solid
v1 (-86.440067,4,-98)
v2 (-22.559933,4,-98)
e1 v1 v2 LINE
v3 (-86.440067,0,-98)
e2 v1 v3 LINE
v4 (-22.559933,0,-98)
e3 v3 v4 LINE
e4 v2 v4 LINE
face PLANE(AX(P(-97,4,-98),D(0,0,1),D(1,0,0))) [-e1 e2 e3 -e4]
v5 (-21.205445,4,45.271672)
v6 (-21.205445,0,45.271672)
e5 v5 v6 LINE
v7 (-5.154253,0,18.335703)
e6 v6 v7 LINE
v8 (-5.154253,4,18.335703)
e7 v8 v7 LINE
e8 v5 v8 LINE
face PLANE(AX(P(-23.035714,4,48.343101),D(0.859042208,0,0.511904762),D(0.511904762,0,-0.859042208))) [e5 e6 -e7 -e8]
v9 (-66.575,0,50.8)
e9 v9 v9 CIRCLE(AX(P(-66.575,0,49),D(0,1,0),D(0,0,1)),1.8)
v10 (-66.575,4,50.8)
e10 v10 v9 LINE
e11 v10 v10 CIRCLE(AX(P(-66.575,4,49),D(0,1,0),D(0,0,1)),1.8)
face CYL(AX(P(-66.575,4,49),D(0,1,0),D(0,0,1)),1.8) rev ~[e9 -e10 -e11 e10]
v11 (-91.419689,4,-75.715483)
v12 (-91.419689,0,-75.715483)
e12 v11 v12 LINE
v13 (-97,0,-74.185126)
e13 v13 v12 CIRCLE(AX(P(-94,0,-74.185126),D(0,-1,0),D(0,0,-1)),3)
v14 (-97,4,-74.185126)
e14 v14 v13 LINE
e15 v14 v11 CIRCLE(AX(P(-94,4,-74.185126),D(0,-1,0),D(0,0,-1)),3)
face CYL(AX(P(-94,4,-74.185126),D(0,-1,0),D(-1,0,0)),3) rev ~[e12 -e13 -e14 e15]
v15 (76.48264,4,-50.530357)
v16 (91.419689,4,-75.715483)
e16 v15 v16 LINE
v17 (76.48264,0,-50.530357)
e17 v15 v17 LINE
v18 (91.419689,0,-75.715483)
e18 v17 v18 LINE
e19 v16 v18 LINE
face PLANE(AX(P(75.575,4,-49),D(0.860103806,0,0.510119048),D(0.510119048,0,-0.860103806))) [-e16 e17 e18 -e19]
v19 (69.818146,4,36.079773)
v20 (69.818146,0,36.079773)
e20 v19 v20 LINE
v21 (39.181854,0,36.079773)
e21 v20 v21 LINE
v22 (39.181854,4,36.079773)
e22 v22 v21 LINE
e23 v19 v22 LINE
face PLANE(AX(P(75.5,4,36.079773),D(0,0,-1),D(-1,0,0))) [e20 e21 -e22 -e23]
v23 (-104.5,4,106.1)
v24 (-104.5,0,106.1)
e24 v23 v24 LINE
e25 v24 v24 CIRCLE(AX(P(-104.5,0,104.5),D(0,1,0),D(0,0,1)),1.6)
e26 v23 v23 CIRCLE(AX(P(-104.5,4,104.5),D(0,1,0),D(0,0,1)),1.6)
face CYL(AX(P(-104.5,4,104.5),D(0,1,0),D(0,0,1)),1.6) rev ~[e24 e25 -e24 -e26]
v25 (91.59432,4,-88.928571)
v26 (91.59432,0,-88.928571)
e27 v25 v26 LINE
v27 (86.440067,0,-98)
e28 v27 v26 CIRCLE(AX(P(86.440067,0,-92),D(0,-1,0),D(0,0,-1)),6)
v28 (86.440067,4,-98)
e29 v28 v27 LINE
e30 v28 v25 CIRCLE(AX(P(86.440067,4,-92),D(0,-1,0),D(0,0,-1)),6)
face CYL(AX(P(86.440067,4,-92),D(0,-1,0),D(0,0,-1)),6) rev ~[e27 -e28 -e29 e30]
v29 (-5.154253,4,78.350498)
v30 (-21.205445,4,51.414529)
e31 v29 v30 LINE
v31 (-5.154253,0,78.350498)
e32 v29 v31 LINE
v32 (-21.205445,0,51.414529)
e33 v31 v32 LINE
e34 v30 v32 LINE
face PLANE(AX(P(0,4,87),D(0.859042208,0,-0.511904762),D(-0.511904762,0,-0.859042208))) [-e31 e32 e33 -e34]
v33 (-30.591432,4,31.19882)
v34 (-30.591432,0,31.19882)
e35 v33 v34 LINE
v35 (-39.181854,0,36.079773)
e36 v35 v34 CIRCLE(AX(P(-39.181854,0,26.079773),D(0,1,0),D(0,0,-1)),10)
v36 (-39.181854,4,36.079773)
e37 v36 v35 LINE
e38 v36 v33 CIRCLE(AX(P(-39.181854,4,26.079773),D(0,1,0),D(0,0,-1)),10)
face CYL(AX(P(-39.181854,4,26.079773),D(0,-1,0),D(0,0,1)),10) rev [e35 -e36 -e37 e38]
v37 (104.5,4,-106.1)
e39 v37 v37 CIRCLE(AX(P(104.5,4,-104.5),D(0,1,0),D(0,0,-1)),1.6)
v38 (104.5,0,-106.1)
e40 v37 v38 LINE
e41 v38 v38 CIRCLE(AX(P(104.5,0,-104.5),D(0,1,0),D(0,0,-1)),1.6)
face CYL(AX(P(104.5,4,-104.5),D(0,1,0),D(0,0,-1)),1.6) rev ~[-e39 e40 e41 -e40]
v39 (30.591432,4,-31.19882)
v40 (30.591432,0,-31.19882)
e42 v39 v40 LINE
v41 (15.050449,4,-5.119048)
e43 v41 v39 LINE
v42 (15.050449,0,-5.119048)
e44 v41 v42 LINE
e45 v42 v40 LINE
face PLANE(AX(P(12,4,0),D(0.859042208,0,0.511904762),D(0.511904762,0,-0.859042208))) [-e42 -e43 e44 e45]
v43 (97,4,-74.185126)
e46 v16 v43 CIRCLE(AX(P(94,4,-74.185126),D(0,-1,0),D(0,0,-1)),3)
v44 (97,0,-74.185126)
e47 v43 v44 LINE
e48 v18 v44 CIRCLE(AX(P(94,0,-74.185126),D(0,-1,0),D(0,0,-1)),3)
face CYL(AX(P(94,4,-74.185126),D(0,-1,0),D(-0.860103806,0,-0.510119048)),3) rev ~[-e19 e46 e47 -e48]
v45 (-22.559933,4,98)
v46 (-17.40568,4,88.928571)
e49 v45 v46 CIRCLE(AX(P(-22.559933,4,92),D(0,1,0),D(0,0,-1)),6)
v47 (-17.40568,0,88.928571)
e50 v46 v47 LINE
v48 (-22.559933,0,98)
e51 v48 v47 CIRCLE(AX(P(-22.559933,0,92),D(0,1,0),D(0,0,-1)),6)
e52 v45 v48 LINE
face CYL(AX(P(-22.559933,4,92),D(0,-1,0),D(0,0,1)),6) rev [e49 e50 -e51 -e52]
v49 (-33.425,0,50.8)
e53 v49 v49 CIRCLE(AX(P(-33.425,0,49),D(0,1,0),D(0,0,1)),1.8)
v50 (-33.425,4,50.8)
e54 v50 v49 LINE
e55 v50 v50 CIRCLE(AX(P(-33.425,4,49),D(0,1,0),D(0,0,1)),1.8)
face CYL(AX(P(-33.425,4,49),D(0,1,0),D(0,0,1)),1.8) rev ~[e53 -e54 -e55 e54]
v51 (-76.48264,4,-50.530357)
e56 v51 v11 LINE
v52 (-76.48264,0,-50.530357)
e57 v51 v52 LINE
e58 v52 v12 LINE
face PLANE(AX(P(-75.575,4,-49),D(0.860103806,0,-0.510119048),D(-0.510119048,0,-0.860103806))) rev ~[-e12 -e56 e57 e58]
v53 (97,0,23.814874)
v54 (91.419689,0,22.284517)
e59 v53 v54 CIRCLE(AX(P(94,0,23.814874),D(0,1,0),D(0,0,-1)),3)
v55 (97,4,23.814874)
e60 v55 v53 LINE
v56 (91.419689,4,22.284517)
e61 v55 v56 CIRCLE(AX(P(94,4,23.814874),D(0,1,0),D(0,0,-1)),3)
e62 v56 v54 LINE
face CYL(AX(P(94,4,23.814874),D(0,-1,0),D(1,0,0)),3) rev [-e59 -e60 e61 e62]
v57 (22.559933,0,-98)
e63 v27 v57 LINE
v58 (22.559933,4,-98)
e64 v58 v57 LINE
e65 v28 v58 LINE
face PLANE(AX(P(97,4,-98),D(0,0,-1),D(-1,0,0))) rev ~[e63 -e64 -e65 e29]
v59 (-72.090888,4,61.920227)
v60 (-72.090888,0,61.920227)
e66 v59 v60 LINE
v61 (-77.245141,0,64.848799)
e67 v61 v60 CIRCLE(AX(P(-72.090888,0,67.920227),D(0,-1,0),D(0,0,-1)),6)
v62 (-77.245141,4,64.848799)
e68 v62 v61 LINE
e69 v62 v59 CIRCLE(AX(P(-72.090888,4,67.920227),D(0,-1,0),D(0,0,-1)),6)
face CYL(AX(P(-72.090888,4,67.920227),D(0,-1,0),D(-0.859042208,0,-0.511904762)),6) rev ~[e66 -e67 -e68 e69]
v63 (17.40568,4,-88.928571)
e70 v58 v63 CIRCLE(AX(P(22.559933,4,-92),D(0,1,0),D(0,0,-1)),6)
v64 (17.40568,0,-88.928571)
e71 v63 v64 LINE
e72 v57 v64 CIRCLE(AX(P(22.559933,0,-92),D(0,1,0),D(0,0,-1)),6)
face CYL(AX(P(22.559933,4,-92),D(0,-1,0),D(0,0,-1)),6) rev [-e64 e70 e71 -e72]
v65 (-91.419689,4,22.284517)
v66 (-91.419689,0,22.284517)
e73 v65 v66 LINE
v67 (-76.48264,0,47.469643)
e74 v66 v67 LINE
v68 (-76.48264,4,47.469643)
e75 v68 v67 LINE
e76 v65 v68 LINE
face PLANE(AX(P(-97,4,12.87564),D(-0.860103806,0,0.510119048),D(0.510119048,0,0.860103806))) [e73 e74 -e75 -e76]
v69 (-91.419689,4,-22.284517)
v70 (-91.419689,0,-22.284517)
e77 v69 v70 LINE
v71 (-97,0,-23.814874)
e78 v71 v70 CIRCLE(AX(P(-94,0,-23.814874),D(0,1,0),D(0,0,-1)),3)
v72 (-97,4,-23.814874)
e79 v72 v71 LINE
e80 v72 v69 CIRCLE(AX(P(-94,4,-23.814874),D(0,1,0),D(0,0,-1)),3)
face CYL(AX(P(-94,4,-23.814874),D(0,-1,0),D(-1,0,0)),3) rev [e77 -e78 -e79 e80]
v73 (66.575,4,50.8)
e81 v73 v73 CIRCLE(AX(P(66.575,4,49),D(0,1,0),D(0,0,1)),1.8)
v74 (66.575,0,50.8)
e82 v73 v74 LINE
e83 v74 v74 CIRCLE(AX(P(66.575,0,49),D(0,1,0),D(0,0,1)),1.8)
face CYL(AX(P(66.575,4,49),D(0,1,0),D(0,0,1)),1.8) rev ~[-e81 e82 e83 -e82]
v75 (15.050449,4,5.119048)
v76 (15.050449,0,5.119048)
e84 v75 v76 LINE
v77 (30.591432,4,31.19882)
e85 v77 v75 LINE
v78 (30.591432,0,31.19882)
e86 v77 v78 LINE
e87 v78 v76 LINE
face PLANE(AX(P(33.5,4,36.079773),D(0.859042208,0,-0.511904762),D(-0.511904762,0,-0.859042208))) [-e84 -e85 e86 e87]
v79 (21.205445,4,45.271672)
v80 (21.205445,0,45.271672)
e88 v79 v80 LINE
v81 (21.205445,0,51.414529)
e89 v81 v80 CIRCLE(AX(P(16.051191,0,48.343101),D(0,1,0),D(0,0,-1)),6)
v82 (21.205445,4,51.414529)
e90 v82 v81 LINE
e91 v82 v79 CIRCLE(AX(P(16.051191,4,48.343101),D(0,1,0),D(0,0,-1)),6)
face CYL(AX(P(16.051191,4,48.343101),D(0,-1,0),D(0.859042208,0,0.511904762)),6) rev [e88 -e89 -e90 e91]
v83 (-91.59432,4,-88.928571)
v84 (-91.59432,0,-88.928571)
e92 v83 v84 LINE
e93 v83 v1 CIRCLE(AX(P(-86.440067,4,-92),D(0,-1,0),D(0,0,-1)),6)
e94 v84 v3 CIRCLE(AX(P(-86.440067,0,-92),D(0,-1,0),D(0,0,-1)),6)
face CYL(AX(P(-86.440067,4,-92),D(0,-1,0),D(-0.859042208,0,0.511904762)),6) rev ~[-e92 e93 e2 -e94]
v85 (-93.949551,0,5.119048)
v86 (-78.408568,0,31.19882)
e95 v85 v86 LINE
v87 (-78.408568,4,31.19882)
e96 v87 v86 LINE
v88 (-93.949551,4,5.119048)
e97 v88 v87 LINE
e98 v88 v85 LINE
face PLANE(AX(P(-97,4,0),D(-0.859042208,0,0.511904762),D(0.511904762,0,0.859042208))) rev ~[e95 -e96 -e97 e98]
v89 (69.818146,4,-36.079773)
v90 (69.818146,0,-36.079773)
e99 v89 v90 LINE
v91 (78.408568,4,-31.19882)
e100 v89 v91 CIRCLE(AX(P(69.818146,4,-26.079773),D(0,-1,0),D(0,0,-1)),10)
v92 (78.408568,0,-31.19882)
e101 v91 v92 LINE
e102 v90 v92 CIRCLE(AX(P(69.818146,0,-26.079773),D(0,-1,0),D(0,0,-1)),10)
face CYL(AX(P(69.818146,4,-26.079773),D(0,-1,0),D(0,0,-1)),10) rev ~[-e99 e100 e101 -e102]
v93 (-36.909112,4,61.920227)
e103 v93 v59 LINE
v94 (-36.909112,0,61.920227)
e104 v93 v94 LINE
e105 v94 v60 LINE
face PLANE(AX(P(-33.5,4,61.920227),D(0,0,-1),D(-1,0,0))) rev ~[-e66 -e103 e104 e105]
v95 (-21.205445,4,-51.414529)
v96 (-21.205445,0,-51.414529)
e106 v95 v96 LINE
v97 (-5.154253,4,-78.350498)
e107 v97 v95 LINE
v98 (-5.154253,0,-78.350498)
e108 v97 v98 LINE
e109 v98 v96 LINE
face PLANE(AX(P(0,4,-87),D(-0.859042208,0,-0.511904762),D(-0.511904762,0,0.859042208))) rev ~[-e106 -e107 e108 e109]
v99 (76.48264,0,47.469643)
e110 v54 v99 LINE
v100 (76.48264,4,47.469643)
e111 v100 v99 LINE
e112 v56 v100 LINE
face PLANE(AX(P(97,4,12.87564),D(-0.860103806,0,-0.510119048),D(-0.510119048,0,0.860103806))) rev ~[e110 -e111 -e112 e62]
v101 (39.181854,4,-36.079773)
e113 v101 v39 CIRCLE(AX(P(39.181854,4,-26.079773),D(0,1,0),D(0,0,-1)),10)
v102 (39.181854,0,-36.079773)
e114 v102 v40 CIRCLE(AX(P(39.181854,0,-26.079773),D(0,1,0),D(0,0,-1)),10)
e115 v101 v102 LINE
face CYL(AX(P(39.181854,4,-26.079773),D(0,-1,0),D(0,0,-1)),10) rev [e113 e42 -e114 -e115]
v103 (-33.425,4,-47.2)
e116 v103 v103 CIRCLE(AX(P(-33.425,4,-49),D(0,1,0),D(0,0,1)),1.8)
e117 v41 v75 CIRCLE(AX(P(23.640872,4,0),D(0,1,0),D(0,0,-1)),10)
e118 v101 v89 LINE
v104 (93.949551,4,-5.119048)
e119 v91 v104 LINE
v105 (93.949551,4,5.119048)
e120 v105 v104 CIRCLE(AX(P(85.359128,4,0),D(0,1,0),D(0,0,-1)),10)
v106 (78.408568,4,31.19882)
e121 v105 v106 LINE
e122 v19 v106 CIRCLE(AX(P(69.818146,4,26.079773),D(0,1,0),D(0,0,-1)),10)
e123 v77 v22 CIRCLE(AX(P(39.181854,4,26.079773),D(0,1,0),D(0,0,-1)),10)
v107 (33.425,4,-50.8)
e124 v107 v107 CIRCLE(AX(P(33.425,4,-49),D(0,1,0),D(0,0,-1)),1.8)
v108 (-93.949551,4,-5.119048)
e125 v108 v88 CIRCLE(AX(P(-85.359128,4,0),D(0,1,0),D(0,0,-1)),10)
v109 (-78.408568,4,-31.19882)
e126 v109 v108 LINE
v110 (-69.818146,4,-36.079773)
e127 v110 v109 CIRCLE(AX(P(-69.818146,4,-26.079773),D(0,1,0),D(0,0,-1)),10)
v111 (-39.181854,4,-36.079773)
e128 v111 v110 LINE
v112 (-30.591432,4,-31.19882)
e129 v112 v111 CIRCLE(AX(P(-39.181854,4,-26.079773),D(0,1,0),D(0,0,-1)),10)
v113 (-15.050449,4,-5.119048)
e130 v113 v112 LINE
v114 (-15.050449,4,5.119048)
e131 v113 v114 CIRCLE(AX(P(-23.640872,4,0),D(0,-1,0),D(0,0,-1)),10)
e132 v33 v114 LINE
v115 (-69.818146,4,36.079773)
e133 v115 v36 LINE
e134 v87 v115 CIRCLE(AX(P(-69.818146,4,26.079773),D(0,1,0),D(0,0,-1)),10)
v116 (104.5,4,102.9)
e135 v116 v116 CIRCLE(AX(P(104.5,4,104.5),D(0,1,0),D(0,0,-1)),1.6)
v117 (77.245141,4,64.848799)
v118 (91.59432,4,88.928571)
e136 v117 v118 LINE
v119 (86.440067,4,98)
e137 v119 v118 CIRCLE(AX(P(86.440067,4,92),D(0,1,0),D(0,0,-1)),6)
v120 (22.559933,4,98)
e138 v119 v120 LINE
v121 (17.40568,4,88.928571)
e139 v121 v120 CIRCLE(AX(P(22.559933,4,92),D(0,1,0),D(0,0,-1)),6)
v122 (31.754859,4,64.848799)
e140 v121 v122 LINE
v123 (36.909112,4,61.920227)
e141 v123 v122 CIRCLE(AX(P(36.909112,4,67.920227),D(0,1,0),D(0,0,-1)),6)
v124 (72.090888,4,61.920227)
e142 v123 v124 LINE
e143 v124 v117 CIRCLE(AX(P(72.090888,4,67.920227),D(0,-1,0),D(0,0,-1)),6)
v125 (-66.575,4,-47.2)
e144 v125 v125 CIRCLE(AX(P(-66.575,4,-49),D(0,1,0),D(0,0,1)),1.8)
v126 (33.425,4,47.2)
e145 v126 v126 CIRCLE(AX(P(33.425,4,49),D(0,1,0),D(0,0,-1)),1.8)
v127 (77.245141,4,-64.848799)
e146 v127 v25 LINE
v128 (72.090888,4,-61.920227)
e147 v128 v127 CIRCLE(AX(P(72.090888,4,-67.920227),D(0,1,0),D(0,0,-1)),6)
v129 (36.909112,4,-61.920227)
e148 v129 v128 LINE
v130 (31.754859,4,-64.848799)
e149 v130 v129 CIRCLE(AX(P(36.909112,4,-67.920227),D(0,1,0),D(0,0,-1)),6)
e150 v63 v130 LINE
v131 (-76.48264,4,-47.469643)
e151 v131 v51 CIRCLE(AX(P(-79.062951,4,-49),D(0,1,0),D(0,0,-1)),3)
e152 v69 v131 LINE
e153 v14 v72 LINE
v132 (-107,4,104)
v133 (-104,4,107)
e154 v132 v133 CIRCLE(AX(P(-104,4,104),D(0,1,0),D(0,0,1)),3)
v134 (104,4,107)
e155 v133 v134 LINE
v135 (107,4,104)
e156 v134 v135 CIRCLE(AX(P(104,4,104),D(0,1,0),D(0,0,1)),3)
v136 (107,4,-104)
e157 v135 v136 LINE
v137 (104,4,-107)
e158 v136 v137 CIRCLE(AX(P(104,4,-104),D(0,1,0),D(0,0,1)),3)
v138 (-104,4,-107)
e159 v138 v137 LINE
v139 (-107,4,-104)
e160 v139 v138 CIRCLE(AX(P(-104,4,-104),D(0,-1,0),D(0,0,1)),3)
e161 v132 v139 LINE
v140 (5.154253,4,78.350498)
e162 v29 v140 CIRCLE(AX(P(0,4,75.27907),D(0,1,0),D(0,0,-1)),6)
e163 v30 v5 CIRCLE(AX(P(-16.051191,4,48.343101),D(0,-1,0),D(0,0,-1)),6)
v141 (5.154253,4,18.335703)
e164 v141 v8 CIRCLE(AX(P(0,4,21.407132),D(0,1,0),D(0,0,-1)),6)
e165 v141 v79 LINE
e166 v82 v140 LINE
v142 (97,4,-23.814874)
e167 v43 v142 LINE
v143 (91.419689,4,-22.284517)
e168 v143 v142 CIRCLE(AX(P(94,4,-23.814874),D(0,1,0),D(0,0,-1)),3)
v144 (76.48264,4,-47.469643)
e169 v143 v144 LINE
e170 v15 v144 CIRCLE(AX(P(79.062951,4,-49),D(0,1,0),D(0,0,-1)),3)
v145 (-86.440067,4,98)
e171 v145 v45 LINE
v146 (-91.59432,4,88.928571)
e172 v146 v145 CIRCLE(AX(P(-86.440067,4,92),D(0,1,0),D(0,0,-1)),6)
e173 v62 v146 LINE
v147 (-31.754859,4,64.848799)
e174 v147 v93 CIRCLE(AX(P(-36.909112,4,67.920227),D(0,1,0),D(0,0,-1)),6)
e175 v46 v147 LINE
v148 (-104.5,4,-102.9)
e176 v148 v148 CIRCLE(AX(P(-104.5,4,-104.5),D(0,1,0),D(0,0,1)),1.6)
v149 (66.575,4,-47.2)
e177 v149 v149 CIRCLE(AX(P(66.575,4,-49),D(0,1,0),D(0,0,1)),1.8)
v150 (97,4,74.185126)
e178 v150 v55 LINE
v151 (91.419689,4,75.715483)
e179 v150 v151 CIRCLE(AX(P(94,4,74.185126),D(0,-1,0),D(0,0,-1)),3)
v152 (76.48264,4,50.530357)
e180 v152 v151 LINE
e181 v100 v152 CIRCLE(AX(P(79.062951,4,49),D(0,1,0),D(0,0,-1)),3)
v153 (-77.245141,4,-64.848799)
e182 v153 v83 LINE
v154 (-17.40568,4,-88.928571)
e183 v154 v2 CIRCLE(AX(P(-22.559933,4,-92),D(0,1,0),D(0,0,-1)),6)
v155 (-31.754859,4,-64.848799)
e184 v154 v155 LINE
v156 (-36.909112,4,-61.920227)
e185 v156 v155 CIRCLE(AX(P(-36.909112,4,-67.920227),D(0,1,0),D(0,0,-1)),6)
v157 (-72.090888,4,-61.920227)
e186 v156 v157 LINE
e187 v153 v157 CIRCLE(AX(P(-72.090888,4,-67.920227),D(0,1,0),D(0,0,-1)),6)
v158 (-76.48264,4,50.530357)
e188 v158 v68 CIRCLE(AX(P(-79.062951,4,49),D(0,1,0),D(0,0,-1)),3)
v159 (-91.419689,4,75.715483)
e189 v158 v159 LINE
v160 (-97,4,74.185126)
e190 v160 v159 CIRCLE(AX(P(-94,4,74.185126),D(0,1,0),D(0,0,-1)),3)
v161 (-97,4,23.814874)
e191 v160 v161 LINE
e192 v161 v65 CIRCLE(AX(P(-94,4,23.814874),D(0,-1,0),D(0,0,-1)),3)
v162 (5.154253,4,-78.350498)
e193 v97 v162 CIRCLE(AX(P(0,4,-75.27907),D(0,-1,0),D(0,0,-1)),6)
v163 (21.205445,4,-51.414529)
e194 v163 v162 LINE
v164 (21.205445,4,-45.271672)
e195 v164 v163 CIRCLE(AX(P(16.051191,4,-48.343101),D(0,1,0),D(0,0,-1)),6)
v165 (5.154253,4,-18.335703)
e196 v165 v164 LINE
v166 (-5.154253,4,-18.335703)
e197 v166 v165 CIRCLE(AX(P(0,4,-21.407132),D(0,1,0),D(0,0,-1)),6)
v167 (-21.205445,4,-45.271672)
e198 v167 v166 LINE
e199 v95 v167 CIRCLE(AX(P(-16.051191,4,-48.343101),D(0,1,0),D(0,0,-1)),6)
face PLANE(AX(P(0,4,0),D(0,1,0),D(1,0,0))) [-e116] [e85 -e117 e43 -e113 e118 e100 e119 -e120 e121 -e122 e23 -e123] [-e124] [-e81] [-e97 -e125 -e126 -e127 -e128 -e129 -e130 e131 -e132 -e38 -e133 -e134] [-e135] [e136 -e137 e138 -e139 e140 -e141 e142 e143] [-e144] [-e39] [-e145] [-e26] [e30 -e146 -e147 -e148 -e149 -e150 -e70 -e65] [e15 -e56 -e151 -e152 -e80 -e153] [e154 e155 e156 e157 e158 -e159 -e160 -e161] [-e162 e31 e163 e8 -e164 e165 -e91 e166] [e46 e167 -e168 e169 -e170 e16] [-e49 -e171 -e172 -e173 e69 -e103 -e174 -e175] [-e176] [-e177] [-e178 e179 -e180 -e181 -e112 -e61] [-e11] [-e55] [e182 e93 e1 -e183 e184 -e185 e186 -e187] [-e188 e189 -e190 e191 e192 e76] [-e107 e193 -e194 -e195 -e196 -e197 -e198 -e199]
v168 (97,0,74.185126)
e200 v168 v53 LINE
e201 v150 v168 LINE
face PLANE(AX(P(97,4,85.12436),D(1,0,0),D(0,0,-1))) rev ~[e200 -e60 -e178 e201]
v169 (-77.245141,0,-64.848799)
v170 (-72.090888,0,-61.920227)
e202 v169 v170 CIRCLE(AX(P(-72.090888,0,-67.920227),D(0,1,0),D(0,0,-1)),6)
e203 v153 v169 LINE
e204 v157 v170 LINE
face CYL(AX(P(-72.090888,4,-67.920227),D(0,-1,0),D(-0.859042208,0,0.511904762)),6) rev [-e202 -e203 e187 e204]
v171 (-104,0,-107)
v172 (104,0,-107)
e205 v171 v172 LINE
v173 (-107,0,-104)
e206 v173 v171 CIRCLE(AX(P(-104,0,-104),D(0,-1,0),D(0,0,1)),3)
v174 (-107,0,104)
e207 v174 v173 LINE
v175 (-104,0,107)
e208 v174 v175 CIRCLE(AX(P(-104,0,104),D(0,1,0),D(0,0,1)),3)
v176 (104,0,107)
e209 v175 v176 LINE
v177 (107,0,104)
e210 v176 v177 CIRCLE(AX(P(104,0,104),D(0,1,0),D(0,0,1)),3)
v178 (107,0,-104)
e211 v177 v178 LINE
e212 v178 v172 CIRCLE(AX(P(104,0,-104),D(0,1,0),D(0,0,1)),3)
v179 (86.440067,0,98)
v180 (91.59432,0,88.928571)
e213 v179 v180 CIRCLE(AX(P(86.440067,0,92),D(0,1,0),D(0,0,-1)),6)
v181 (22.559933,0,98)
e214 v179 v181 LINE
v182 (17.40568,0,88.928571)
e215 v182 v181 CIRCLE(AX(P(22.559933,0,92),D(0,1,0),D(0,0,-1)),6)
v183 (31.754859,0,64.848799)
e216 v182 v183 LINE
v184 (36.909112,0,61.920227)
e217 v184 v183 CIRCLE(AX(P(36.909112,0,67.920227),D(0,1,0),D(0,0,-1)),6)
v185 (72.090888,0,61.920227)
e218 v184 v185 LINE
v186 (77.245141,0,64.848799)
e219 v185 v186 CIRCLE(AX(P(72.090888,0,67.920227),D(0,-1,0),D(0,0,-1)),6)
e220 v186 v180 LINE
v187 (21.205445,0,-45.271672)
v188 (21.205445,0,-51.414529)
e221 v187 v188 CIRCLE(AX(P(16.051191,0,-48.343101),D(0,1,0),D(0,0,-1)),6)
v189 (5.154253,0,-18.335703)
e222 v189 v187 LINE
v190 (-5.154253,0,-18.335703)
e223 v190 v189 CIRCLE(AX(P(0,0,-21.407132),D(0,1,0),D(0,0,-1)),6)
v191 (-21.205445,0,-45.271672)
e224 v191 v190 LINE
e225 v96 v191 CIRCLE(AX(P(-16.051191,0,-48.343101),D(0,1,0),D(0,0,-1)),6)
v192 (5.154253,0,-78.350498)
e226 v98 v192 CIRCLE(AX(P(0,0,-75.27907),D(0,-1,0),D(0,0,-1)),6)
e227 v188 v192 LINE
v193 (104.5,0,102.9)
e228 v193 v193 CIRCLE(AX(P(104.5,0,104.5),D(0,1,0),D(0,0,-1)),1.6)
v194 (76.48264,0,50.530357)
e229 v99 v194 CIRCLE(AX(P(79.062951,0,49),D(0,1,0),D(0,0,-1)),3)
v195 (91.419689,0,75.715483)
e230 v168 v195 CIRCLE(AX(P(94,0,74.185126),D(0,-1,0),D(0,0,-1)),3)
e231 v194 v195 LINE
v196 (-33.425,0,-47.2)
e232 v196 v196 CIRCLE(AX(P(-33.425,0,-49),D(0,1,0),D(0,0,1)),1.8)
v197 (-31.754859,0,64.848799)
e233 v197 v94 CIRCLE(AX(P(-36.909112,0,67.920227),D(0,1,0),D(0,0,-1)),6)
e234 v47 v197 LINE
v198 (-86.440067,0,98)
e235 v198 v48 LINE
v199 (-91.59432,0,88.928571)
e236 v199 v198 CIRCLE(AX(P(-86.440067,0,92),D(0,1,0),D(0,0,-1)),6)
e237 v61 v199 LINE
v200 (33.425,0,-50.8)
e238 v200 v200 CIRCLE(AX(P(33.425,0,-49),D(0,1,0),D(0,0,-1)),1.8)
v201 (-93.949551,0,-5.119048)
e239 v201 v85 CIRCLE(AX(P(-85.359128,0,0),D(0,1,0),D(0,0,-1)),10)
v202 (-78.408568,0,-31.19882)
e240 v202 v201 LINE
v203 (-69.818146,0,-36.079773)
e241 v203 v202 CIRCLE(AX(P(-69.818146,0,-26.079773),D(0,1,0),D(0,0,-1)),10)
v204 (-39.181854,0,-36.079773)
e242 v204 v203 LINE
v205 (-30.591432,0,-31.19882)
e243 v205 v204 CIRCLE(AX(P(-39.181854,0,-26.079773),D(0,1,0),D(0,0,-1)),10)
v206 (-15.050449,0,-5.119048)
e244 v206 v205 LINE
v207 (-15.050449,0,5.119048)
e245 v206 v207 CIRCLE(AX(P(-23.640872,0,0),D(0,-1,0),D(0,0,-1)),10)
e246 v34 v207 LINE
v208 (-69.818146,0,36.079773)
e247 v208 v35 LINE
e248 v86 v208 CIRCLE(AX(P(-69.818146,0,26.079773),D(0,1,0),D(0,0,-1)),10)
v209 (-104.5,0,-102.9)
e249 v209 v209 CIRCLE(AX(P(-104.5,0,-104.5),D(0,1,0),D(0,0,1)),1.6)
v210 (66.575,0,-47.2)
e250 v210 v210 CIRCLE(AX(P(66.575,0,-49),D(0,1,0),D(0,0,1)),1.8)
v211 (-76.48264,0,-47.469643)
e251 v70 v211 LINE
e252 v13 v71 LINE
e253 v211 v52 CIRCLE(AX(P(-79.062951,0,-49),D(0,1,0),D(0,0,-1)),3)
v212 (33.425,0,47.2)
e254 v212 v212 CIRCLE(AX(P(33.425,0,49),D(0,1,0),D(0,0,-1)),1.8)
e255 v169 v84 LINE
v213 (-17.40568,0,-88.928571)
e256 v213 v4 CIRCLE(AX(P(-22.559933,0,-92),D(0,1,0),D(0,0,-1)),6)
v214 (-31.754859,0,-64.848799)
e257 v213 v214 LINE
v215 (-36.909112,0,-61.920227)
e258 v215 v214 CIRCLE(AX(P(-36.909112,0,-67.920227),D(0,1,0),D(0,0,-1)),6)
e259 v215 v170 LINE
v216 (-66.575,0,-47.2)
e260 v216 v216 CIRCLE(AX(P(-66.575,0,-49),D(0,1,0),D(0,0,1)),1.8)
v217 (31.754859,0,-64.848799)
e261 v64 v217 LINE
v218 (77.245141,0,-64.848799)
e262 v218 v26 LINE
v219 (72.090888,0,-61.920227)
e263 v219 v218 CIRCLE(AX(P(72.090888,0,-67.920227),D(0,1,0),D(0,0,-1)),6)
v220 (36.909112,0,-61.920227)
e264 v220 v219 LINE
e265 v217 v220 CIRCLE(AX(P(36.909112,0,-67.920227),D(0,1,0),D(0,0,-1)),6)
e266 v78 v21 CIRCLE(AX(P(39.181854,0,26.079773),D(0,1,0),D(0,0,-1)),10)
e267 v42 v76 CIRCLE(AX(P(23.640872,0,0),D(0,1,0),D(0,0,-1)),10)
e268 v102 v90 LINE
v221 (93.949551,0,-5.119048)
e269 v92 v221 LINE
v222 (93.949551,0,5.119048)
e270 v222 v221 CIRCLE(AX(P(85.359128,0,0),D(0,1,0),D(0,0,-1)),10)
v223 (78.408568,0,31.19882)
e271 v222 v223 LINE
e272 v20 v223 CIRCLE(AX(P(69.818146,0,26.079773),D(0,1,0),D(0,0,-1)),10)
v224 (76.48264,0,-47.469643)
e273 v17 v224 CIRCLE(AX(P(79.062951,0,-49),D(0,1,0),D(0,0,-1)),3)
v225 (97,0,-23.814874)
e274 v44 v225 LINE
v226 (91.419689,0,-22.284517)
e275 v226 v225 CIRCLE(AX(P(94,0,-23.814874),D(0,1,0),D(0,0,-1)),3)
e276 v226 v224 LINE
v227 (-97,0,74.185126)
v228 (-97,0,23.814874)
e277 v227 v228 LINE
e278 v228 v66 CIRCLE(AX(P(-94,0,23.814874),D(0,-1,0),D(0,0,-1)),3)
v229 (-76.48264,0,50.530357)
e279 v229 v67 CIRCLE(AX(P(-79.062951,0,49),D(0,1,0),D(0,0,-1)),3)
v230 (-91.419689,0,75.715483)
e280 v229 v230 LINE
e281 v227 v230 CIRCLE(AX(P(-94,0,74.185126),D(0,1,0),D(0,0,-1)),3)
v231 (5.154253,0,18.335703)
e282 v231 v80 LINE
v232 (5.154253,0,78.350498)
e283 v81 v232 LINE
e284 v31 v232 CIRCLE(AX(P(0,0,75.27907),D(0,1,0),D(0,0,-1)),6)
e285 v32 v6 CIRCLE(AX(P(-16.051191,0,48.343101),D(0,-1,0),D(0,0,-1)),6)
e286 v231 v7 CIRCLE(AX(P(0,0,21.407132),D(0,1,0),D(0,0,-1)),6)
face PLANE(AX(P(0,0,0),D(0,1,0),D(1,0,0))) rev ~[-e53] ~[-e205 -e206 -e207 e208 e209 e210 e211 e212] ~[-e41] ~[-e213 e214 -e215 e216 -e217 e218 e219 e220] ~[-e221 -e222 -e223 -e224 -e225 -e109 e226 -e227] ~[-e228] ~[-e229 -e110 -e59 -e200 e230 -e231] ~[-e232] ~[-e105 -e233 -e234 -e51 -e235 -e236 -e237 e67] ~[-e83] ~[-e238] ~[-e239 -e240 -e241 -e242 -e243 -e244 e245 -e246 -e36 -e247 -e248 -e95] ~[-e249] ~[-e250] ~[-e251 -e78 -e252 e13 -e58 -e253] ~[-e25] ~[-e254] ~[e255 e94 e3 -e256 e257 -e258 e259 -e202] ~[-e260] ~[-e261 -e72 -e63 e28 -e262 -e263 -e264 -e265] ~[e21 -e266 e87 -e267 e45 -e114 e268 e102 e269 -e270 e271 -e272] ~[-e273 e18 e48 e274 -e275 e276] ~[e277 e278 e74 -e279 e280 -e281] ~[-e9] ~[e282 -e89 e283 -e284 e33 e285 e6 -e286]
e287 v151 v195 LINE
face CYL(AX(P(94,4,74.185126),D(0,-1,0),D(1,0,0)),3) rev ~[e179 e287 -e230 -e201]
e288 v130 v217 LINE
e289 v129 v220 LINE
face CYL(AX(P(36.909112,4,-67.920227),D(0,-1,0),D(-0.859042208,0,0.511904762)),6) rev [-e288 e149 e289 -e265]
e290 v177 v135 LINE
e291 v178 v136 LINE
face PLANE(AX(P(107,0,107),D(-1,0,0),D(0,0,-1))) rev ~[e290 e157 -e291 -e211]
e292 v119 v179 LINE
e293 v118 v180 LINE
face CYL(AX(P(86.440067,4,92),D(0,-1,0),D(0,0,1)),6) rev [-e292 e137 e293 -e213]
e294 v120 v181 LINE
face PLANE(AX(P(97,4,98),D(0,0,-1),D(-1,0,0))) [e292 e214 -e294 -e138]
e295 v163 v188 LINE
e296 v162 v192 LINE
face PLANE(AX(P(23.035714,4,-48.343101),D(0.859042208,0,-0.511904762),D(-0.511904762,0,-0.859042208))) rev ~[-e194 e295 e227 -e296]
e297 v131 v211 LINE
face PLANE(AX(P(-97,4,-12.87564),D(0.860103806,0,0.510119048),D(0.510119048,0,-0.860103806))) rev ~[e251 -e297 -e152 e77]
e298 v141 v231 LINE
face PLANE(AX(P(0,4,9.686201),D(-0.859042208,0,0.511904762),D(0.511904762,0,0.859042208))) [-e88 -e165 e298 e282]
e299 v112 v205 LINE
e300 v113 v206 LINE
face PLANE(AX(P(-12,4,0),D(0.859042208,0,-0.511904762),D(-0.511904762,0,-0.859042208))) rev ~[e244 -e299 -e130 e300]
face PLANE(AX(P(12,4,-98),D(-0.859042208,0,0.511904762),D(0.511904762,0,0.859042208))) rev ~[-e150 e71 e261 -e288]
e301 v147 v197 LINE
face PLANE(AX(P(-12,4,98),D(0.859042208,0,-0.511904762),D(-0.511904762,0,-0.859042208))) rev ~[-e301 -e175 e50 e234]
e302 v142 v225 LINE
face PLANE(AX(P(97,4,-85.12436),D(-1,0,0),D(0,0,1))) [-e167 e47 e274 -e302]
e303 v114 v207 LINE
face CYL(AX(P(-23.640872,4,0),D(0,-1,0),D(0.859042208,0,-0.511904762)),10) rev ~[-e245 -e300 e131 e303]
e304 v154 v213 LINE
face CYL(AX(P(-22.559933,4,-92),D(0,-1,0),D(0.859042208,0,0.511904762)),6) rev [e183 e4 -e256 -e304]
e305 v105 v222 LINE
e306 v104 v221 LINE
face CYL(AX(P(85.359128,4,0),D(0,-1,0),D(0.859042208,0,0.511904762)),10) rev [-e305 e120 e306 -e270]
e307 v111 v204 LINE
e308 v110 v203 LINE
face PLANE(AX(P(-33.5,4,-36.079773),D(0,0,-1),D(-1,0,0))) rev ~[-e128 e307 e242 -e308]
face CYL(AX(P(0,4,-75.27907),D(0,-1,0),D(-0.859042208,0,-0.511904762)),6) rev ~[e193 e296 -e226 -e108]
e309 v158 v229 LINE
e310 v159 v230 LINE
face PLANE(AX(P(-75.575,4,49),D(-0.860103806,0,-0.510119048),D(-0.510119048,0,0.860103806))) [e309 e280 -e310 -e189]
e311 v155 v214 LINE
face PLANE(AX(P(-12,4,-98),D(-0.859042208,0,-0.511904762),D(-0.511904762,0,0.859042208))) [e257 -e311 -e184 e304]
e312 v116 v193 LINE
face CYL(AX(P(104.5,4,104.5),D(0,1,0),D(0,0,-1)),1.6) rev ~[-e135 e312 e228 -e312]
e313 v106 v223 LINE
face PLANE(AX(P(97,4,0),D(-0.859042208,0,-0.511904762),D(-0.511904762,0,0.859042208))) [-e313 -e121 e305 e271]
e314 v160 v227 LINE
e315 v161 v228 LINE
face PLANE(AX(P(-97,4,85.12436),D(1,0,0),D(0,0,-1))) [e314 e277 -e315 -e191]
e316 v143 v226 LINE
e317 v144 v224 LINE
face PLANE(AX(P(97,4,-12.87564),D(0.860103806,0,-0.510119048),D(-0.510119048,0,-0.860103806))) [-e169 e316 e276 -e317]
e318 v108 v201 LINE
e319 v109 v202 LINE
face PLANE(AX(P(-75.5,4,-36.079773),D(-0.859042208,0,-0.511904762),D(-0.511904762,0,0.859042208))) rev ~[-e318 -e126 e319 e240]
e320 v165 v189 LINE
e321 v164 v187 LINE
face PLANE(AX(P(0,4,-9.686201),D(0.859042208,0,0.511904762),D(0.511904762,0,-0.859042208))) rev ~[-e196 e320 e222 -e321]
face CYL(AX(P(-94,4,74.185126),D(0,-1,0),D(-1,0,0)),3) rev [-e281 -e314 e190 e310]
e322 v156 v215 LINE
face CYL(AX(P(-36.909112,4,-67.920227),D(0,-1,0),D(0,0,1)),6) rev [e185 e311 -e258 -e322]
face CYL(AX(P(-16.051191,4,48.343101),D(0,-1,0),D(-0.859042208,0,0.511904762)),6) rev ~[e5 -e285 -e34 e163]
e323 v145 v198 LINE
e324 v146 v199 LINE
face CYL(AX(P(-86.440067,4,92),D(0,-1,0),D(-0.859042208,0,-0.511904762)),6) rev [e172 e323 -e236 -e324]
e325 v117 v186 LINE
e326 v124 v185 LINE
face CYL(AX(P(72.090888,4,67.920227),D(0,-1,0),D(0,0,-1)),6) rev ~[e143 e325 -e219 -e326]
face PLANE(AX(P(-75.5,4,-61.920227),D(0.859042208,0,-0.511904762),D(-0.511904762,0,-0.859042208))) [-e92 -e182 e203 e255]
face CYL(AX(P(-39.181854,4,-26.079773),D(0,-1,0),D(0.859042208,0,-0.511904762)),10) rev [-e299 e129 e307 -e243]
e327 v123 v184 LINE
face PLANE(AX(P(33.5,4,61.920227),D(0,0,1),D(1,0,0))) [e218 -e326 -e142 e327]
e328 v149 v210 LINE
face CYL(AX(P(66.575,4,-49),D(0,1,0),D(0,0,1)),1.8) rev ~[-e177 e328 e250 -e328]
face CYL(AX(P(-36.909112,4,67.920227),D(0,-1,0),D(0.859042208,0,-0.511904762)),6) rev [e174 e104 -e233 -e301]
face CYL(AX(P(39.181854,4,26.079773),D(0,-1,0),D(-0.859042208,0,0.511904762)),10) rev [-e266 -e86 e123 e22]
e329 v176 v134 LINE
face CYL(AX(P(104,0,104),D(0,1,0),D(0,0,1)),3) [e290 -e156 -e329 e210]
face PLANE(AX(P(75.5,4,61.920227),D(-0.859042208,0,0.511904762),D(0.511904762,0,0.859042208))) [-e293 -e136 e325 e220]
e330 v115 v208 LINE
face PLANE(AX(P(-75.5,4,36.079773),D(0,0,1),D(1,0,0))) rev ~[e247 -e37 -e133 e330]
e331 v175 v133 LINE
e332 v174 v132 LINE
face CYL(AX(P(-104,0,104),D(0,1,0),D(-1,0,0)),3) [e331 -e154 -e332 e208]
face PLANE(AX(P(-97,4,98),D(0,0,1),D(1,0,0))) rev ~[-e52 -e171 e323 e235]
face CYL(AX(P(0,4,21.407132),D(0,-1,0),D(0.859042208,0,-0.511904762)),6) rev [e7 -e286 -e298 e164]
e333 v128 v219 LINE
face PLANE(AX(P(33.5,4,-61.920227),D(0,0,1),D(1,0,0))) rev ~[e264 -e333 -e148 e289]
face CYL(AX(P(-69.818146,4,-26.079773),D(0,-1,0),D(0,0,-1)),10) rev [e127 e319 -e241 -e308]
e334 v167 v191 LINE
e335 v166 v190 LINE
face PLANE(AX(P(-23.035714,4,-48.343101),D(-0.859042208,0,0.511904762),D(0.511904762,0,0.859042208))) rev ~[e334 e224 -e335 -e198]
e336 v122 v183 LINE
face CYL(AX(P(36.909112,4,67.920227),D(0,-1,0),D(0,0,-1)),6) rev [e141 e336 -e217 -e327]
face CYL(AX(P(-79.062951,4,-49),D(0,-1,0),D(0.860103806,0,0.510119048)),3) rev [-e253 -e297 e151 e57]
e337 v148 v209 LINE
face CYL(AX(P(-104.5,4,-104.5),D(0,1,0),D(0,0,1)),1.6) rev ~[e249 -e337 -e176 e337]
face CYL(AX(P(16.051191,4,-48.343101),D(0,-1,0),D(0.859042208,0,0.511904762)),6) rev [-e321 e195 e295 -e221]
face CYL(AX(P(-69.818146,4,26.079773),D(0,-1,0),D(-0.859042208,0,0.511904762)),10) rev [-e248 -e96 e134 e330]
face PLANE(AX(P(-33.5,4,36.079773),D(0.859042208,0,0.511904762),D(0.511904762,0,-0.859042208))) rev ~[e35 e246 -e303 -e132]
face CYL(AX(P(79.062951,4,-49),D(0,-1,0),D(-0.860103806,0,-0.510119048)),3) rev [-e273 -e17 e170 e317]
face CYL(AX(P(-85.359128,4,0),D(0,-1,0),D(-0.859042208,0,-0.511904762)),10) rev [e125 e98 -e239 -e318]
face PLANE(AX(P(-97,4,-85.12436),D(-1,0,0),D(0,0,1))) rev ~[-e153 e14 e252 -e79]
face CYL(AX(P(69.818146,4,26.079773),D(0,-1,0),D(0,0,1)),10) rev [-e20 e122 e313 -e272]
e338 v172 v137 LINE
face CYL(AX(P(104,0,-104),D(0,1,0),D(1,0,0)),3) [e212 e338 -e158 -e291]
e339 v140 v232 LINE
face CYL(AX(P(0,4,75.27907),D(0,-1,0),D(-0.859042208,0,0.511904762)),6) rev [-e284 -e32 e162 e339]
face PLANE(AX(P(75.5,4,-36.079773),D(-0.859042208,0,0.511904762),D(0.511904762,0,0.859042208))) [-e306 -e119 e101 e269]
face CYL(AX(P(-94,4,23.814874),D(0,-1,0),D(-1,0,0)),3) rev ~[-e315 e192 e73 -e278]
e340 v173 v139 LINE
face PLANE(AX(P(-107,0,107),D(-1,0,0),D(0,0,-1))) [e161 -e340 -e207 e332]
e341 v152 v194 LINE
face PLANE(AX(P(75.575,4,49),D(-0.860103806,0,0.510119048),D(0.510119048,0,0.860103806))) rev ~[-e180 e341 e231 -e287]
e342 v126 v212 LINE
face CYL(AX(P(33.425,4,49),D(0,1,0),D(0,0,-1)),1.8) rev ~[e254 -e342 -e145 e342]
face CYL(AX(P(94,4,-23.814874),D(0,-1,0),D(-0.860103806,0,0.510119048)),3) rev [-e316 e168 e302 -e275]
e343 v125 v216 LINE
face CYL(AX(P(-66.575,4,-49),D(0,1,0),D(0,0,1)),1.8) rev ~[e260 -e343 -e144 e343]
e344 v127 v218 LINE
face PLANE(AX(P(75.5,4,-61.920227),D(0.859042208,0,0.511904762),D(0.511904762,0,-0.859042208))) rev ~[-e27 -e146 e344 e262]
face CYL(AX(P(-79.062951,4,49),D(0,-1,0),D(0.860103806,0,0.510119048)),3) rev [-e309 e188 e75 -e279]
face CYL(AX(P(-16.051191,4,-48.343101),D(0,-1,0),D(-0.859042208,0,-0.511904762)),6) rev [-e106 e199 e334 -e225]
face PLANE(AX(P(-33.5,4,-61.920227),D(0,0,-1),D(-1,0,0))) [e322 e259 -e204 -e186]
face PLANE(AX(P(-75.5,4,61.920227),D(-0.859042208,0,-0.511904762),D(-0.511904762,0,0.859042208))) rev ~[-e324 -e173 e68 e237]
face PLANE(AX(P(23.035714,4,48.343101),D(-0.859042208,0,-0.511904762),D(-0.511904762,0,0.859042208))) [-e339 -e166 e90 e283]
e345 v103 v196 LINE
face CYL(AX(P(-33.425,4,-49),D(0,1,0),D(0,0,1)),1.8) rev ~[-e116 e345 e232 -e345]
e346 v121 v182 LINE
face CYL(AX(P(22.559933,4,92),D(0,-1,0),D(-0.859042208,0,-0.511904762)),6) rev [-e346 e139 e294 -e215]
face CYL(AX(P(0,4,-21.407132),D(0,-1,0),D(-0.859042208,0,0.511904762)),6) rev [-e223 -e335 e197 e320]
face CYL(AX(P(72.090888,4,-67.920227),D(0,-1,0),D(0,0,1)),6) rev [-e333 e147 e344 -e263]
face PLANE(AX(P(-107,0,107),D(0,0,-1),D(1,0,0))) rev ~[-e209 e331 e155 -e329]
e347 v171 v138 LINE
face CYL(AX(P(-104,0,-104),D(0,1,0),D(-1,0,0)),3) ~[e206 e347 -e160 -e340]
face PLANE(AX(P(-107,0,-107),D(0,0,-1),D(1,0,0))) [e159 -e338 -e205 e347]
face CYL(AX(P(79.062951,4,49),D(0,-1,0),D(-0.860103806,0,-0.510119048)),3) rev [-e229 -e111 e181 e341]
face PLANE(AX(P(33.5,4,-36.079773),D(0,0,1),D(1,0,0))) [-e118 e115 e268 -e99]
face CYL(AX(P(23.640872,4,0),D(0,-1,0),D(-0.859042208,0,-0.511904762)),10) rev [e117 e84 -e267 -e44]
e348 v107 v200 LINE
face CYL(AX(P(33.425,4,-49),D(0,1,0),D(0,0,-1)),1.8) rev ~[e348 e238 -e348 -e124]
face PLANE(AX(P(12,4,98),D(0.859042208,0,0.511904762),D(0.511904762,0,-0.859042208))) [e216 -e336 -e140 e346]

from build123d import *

# Parameters (mm, degrees)
SKETCH_1_W          = 214
SKETCH_1_H          = 214
EXTRUDE_1_DEPTH     = 4
FILLET_1_R          = 3
SKETCH_2_R          = 1.6
SKETCH_2_R_2        = 1.8
CUT_EXTRUDE_1_DEPTH = 152.373709739
CUT_EXTRUDE_2_DEPTH = 152.373709739
FILLET_2_R          = 10
FILLET_3_R          = 6
FILLET_4_R          = 3
FILLET_5_R          = 6


with BuildPart() as part:
    # 스케치1 → 보스-돌출1 (new body)
    with BuildSketch(Plane(origin=(0, 0, 0), x_dir=(1, 0, 0), z_dir=(0, 1, 0))):
        Rectangle(SKETCH_1_W, SKETCH_1_H)
    extrude(amount=EXTRUDE_1_DEPTH)

    # 필렛1
    fillet_1_edges = [part.edges().sort_by_distance(p)[0] for p in [
        (107, 2, 107),
        (-107, 2, 107),
        (-107, 2, -107),
        (107, 2, -107),
    ]]
    fillet(fillet_1_edges, radius=FILLET_1_R)

    # 스케치2 → 컷-돌출1 (cut, through all)
    with BuildSketch(Plane(origin=(0, 4, 0), x_dir=(1, 0, 0), z_dir=(0, 1, 0))):
        with Locations(Location((-104.5, 104.5, 0), (0, 0, 270))):
            Circle(SKETCH_2_R)
        with Locations(Location((104.5, -104.5, 0), (0, 0, 90))):
            Circle(SKETCH_2_R)
        with Locations(Location((-104.5, -104.5, 0), (0, 0, 270))):
            Circle(SKETCH_2_R)
        with Locations(Location((104.5, 104.5, 0), (0, 0, 90))):
            Circle(SKETCH_2_R)
        with Locations(Location((-66.575, 49, 0), (0, 0, 270))):
            Circle(SKETCH_2_R_2)
        with Locations(Location((66.575, 49, 0), (0, 0, 270))):
            Circle(SKETCH_2_R_2)
        with Locations(Location((-66.575, -49, 0), (0, 0, 270))):
            Circle(SKETCH_2_R_2)
        with Locations(Location((66.575, -49, 0), (0, 0, 270))):
            Circle(SKETCH_2_R_2)
        with Locations(Location((-33.425, 49, 0), (0, 0, 270))):
            Circle(SKETCH_2_R_2)
        with Locations(Location((33.425, 49, 0), (0, 0, 90))):
            Circle(SKETCH_2_R_2)
        with Locations(Location((-33.425, -49, 0), (0, 0, 270))):
            Circle(SKETCH_2_R_2)
        with Locations(Location((33.425, -49, 0), (0, 0, 90))):
            Circle(SKETCH_2_R_2)
    extrude(amount=-CUT_EXTRUDE_1_DEPTH, mode=Mode.SUBTRACT)

    # 스케치3 → 컷-돌출2 (cut, through all)
    with BuildSketch(Plane(origin=(0, 4, 0), x_dir=(1, 0, 0), z_dir=(0, 1, 0))):
        Polygon((-97, 98), (-12, 98), (-33.5, 61.920227273), (-75.5, 61.920227273), align=None)
        Polygon((97, 98), (12, 98), (33.5, 61.920227273), (75.5, 61.920227273), align=None)
        Polygon((-97, 85.124359856), (-97, 12.875640144), (-75.575, 49), align=None)
        Polygon((97, 85.124359856), (97, 12.875640144), (75.575, 49), align=None)
        Polygon((97, -85.124359856), (97, -12.875640144), (75.575, -49), align=None)
        Polygon((-75.5, -61.920227273), (-97, -98), (-12, -98), (-33.5, -61.920227273), align=None)
        Polygon((-97, -12.875640144), (-75.575, -49), (-97, -85.124359856), align=None)
        Polygon((75.5, -61.920227273), (97, -98), (12, -98), (33.5, -61.920227273), align=None)
        Polygon((-12, 0), (-33.5, 36.079772727), (-75.5, 36.079772727), (-97, 0), (-75.5, -36.079772727), (-33.5, -36.079772727), align=None)
        Polygon((75.5, 36.079772727), (97, 0), (75.5, -36.079772727), (33.5, -36.079772727), (12, 0), (33.5, 36.079772727), align=None)
        Polygon((0, 87), (-23.035714286, 48.34310065), (0, 9.6862013), (23.035714286, 48.34310065), align=None)
        Polygon((-23.035714286, -48.34310065), (0, -9.6862013), (23.035714286, -48.34310065), (0, -87), align=None)
    extrude(amount=-CUT_EXTRUDE_2_DEPTH, mode=Mode.SUBTRACT)

    # 필렛2
    fillet_2_edges = [part.edges().sort_by_distance(p)[0] for p in [
        (-12, 2, 0),
        (-33.5, 2, 36.079772727),
        (-75.5, 2, 36.079772727),
        (-97, 2, 0),
        (-75.5, 2, -36.079772727),
        (-33.5, 2, -36.079772727),
        (33.5, 2, -36.079772727),
        (75.5, 2, -36.079772727),
        (97, 2, 0),
        (75.5, 2, 36.079772727),
        (33.5, 2, 36.079772727),
        (12, 2, 0),
    ]]
    fillet(fillet_2_edges, radius=FILLET_2_R)

    # 필렛3
    fillet_3_edges = [part.edges().sort_by_distance(p)[0] for p in [
        (97, 2, -98),
        (75.5, 2, -61.920227273),
        (33.5, 2, -61.920227273),
        (12, 2, -98),
        (-75.5, 2, 61.920227273),
        (-33.5, 2, 61.920227273),
        (-12, 2, 98),
        (-97, 2, 98),
        (33.5, 2, 61.920227273),
        (75.5, 2, 61.920227273),
        (97, 2, 98),
        (12, 2, 98),
        (-75.5, 2, -61.920227273),
        (-97, 2, -98),
        (-12, 2, -98),
        (-33.5, 2, -61.920227273),
    ]]
    fillet(fillet_3_edges, radius=FILLET_3_R)

    # 필렛4
    fillet_4_edges = [part.edges().sort_by_distance(p)[0] for p in [
        (-97, 2, -85.124359856),
        (-75.575, 2, -49),
        (-97, 2, -12.875640144),
        (75.575, 2, -49),
        (97, 2, -85.124359856),
        (97, 2, -12.875640144),
        (97, 2, 85.124359856),
        (75.575, 2, 49),
        (97, 2, 12.875640144),
        (-97, 2, 85.124359856),
        (-97, 2, 12.875640144),
        (-75.575, 2, 49),
    ]]
    fillet(fillet_4_edges, radius=FILLET_4_R)

    # 필렛5
    fillet_5_edges = [part.edges().sort_by_distance(p)[0] for p in [
        (0, 2, -87),
        (23.035714286, 2, -48.34310065),
        (0, 2, -9.6862013),
        (-23.035714286, 2, -48.34310065),
        (0, 2, 87),
        (-23.035714286, 2, 48.34310065),
        (0, 2, 9.6862013),
        (23.035714286, 2, 48.34310065),
    ]]
    fillet(fillet_5_edges, radius=FILLET_5_R)


solid = part.part
